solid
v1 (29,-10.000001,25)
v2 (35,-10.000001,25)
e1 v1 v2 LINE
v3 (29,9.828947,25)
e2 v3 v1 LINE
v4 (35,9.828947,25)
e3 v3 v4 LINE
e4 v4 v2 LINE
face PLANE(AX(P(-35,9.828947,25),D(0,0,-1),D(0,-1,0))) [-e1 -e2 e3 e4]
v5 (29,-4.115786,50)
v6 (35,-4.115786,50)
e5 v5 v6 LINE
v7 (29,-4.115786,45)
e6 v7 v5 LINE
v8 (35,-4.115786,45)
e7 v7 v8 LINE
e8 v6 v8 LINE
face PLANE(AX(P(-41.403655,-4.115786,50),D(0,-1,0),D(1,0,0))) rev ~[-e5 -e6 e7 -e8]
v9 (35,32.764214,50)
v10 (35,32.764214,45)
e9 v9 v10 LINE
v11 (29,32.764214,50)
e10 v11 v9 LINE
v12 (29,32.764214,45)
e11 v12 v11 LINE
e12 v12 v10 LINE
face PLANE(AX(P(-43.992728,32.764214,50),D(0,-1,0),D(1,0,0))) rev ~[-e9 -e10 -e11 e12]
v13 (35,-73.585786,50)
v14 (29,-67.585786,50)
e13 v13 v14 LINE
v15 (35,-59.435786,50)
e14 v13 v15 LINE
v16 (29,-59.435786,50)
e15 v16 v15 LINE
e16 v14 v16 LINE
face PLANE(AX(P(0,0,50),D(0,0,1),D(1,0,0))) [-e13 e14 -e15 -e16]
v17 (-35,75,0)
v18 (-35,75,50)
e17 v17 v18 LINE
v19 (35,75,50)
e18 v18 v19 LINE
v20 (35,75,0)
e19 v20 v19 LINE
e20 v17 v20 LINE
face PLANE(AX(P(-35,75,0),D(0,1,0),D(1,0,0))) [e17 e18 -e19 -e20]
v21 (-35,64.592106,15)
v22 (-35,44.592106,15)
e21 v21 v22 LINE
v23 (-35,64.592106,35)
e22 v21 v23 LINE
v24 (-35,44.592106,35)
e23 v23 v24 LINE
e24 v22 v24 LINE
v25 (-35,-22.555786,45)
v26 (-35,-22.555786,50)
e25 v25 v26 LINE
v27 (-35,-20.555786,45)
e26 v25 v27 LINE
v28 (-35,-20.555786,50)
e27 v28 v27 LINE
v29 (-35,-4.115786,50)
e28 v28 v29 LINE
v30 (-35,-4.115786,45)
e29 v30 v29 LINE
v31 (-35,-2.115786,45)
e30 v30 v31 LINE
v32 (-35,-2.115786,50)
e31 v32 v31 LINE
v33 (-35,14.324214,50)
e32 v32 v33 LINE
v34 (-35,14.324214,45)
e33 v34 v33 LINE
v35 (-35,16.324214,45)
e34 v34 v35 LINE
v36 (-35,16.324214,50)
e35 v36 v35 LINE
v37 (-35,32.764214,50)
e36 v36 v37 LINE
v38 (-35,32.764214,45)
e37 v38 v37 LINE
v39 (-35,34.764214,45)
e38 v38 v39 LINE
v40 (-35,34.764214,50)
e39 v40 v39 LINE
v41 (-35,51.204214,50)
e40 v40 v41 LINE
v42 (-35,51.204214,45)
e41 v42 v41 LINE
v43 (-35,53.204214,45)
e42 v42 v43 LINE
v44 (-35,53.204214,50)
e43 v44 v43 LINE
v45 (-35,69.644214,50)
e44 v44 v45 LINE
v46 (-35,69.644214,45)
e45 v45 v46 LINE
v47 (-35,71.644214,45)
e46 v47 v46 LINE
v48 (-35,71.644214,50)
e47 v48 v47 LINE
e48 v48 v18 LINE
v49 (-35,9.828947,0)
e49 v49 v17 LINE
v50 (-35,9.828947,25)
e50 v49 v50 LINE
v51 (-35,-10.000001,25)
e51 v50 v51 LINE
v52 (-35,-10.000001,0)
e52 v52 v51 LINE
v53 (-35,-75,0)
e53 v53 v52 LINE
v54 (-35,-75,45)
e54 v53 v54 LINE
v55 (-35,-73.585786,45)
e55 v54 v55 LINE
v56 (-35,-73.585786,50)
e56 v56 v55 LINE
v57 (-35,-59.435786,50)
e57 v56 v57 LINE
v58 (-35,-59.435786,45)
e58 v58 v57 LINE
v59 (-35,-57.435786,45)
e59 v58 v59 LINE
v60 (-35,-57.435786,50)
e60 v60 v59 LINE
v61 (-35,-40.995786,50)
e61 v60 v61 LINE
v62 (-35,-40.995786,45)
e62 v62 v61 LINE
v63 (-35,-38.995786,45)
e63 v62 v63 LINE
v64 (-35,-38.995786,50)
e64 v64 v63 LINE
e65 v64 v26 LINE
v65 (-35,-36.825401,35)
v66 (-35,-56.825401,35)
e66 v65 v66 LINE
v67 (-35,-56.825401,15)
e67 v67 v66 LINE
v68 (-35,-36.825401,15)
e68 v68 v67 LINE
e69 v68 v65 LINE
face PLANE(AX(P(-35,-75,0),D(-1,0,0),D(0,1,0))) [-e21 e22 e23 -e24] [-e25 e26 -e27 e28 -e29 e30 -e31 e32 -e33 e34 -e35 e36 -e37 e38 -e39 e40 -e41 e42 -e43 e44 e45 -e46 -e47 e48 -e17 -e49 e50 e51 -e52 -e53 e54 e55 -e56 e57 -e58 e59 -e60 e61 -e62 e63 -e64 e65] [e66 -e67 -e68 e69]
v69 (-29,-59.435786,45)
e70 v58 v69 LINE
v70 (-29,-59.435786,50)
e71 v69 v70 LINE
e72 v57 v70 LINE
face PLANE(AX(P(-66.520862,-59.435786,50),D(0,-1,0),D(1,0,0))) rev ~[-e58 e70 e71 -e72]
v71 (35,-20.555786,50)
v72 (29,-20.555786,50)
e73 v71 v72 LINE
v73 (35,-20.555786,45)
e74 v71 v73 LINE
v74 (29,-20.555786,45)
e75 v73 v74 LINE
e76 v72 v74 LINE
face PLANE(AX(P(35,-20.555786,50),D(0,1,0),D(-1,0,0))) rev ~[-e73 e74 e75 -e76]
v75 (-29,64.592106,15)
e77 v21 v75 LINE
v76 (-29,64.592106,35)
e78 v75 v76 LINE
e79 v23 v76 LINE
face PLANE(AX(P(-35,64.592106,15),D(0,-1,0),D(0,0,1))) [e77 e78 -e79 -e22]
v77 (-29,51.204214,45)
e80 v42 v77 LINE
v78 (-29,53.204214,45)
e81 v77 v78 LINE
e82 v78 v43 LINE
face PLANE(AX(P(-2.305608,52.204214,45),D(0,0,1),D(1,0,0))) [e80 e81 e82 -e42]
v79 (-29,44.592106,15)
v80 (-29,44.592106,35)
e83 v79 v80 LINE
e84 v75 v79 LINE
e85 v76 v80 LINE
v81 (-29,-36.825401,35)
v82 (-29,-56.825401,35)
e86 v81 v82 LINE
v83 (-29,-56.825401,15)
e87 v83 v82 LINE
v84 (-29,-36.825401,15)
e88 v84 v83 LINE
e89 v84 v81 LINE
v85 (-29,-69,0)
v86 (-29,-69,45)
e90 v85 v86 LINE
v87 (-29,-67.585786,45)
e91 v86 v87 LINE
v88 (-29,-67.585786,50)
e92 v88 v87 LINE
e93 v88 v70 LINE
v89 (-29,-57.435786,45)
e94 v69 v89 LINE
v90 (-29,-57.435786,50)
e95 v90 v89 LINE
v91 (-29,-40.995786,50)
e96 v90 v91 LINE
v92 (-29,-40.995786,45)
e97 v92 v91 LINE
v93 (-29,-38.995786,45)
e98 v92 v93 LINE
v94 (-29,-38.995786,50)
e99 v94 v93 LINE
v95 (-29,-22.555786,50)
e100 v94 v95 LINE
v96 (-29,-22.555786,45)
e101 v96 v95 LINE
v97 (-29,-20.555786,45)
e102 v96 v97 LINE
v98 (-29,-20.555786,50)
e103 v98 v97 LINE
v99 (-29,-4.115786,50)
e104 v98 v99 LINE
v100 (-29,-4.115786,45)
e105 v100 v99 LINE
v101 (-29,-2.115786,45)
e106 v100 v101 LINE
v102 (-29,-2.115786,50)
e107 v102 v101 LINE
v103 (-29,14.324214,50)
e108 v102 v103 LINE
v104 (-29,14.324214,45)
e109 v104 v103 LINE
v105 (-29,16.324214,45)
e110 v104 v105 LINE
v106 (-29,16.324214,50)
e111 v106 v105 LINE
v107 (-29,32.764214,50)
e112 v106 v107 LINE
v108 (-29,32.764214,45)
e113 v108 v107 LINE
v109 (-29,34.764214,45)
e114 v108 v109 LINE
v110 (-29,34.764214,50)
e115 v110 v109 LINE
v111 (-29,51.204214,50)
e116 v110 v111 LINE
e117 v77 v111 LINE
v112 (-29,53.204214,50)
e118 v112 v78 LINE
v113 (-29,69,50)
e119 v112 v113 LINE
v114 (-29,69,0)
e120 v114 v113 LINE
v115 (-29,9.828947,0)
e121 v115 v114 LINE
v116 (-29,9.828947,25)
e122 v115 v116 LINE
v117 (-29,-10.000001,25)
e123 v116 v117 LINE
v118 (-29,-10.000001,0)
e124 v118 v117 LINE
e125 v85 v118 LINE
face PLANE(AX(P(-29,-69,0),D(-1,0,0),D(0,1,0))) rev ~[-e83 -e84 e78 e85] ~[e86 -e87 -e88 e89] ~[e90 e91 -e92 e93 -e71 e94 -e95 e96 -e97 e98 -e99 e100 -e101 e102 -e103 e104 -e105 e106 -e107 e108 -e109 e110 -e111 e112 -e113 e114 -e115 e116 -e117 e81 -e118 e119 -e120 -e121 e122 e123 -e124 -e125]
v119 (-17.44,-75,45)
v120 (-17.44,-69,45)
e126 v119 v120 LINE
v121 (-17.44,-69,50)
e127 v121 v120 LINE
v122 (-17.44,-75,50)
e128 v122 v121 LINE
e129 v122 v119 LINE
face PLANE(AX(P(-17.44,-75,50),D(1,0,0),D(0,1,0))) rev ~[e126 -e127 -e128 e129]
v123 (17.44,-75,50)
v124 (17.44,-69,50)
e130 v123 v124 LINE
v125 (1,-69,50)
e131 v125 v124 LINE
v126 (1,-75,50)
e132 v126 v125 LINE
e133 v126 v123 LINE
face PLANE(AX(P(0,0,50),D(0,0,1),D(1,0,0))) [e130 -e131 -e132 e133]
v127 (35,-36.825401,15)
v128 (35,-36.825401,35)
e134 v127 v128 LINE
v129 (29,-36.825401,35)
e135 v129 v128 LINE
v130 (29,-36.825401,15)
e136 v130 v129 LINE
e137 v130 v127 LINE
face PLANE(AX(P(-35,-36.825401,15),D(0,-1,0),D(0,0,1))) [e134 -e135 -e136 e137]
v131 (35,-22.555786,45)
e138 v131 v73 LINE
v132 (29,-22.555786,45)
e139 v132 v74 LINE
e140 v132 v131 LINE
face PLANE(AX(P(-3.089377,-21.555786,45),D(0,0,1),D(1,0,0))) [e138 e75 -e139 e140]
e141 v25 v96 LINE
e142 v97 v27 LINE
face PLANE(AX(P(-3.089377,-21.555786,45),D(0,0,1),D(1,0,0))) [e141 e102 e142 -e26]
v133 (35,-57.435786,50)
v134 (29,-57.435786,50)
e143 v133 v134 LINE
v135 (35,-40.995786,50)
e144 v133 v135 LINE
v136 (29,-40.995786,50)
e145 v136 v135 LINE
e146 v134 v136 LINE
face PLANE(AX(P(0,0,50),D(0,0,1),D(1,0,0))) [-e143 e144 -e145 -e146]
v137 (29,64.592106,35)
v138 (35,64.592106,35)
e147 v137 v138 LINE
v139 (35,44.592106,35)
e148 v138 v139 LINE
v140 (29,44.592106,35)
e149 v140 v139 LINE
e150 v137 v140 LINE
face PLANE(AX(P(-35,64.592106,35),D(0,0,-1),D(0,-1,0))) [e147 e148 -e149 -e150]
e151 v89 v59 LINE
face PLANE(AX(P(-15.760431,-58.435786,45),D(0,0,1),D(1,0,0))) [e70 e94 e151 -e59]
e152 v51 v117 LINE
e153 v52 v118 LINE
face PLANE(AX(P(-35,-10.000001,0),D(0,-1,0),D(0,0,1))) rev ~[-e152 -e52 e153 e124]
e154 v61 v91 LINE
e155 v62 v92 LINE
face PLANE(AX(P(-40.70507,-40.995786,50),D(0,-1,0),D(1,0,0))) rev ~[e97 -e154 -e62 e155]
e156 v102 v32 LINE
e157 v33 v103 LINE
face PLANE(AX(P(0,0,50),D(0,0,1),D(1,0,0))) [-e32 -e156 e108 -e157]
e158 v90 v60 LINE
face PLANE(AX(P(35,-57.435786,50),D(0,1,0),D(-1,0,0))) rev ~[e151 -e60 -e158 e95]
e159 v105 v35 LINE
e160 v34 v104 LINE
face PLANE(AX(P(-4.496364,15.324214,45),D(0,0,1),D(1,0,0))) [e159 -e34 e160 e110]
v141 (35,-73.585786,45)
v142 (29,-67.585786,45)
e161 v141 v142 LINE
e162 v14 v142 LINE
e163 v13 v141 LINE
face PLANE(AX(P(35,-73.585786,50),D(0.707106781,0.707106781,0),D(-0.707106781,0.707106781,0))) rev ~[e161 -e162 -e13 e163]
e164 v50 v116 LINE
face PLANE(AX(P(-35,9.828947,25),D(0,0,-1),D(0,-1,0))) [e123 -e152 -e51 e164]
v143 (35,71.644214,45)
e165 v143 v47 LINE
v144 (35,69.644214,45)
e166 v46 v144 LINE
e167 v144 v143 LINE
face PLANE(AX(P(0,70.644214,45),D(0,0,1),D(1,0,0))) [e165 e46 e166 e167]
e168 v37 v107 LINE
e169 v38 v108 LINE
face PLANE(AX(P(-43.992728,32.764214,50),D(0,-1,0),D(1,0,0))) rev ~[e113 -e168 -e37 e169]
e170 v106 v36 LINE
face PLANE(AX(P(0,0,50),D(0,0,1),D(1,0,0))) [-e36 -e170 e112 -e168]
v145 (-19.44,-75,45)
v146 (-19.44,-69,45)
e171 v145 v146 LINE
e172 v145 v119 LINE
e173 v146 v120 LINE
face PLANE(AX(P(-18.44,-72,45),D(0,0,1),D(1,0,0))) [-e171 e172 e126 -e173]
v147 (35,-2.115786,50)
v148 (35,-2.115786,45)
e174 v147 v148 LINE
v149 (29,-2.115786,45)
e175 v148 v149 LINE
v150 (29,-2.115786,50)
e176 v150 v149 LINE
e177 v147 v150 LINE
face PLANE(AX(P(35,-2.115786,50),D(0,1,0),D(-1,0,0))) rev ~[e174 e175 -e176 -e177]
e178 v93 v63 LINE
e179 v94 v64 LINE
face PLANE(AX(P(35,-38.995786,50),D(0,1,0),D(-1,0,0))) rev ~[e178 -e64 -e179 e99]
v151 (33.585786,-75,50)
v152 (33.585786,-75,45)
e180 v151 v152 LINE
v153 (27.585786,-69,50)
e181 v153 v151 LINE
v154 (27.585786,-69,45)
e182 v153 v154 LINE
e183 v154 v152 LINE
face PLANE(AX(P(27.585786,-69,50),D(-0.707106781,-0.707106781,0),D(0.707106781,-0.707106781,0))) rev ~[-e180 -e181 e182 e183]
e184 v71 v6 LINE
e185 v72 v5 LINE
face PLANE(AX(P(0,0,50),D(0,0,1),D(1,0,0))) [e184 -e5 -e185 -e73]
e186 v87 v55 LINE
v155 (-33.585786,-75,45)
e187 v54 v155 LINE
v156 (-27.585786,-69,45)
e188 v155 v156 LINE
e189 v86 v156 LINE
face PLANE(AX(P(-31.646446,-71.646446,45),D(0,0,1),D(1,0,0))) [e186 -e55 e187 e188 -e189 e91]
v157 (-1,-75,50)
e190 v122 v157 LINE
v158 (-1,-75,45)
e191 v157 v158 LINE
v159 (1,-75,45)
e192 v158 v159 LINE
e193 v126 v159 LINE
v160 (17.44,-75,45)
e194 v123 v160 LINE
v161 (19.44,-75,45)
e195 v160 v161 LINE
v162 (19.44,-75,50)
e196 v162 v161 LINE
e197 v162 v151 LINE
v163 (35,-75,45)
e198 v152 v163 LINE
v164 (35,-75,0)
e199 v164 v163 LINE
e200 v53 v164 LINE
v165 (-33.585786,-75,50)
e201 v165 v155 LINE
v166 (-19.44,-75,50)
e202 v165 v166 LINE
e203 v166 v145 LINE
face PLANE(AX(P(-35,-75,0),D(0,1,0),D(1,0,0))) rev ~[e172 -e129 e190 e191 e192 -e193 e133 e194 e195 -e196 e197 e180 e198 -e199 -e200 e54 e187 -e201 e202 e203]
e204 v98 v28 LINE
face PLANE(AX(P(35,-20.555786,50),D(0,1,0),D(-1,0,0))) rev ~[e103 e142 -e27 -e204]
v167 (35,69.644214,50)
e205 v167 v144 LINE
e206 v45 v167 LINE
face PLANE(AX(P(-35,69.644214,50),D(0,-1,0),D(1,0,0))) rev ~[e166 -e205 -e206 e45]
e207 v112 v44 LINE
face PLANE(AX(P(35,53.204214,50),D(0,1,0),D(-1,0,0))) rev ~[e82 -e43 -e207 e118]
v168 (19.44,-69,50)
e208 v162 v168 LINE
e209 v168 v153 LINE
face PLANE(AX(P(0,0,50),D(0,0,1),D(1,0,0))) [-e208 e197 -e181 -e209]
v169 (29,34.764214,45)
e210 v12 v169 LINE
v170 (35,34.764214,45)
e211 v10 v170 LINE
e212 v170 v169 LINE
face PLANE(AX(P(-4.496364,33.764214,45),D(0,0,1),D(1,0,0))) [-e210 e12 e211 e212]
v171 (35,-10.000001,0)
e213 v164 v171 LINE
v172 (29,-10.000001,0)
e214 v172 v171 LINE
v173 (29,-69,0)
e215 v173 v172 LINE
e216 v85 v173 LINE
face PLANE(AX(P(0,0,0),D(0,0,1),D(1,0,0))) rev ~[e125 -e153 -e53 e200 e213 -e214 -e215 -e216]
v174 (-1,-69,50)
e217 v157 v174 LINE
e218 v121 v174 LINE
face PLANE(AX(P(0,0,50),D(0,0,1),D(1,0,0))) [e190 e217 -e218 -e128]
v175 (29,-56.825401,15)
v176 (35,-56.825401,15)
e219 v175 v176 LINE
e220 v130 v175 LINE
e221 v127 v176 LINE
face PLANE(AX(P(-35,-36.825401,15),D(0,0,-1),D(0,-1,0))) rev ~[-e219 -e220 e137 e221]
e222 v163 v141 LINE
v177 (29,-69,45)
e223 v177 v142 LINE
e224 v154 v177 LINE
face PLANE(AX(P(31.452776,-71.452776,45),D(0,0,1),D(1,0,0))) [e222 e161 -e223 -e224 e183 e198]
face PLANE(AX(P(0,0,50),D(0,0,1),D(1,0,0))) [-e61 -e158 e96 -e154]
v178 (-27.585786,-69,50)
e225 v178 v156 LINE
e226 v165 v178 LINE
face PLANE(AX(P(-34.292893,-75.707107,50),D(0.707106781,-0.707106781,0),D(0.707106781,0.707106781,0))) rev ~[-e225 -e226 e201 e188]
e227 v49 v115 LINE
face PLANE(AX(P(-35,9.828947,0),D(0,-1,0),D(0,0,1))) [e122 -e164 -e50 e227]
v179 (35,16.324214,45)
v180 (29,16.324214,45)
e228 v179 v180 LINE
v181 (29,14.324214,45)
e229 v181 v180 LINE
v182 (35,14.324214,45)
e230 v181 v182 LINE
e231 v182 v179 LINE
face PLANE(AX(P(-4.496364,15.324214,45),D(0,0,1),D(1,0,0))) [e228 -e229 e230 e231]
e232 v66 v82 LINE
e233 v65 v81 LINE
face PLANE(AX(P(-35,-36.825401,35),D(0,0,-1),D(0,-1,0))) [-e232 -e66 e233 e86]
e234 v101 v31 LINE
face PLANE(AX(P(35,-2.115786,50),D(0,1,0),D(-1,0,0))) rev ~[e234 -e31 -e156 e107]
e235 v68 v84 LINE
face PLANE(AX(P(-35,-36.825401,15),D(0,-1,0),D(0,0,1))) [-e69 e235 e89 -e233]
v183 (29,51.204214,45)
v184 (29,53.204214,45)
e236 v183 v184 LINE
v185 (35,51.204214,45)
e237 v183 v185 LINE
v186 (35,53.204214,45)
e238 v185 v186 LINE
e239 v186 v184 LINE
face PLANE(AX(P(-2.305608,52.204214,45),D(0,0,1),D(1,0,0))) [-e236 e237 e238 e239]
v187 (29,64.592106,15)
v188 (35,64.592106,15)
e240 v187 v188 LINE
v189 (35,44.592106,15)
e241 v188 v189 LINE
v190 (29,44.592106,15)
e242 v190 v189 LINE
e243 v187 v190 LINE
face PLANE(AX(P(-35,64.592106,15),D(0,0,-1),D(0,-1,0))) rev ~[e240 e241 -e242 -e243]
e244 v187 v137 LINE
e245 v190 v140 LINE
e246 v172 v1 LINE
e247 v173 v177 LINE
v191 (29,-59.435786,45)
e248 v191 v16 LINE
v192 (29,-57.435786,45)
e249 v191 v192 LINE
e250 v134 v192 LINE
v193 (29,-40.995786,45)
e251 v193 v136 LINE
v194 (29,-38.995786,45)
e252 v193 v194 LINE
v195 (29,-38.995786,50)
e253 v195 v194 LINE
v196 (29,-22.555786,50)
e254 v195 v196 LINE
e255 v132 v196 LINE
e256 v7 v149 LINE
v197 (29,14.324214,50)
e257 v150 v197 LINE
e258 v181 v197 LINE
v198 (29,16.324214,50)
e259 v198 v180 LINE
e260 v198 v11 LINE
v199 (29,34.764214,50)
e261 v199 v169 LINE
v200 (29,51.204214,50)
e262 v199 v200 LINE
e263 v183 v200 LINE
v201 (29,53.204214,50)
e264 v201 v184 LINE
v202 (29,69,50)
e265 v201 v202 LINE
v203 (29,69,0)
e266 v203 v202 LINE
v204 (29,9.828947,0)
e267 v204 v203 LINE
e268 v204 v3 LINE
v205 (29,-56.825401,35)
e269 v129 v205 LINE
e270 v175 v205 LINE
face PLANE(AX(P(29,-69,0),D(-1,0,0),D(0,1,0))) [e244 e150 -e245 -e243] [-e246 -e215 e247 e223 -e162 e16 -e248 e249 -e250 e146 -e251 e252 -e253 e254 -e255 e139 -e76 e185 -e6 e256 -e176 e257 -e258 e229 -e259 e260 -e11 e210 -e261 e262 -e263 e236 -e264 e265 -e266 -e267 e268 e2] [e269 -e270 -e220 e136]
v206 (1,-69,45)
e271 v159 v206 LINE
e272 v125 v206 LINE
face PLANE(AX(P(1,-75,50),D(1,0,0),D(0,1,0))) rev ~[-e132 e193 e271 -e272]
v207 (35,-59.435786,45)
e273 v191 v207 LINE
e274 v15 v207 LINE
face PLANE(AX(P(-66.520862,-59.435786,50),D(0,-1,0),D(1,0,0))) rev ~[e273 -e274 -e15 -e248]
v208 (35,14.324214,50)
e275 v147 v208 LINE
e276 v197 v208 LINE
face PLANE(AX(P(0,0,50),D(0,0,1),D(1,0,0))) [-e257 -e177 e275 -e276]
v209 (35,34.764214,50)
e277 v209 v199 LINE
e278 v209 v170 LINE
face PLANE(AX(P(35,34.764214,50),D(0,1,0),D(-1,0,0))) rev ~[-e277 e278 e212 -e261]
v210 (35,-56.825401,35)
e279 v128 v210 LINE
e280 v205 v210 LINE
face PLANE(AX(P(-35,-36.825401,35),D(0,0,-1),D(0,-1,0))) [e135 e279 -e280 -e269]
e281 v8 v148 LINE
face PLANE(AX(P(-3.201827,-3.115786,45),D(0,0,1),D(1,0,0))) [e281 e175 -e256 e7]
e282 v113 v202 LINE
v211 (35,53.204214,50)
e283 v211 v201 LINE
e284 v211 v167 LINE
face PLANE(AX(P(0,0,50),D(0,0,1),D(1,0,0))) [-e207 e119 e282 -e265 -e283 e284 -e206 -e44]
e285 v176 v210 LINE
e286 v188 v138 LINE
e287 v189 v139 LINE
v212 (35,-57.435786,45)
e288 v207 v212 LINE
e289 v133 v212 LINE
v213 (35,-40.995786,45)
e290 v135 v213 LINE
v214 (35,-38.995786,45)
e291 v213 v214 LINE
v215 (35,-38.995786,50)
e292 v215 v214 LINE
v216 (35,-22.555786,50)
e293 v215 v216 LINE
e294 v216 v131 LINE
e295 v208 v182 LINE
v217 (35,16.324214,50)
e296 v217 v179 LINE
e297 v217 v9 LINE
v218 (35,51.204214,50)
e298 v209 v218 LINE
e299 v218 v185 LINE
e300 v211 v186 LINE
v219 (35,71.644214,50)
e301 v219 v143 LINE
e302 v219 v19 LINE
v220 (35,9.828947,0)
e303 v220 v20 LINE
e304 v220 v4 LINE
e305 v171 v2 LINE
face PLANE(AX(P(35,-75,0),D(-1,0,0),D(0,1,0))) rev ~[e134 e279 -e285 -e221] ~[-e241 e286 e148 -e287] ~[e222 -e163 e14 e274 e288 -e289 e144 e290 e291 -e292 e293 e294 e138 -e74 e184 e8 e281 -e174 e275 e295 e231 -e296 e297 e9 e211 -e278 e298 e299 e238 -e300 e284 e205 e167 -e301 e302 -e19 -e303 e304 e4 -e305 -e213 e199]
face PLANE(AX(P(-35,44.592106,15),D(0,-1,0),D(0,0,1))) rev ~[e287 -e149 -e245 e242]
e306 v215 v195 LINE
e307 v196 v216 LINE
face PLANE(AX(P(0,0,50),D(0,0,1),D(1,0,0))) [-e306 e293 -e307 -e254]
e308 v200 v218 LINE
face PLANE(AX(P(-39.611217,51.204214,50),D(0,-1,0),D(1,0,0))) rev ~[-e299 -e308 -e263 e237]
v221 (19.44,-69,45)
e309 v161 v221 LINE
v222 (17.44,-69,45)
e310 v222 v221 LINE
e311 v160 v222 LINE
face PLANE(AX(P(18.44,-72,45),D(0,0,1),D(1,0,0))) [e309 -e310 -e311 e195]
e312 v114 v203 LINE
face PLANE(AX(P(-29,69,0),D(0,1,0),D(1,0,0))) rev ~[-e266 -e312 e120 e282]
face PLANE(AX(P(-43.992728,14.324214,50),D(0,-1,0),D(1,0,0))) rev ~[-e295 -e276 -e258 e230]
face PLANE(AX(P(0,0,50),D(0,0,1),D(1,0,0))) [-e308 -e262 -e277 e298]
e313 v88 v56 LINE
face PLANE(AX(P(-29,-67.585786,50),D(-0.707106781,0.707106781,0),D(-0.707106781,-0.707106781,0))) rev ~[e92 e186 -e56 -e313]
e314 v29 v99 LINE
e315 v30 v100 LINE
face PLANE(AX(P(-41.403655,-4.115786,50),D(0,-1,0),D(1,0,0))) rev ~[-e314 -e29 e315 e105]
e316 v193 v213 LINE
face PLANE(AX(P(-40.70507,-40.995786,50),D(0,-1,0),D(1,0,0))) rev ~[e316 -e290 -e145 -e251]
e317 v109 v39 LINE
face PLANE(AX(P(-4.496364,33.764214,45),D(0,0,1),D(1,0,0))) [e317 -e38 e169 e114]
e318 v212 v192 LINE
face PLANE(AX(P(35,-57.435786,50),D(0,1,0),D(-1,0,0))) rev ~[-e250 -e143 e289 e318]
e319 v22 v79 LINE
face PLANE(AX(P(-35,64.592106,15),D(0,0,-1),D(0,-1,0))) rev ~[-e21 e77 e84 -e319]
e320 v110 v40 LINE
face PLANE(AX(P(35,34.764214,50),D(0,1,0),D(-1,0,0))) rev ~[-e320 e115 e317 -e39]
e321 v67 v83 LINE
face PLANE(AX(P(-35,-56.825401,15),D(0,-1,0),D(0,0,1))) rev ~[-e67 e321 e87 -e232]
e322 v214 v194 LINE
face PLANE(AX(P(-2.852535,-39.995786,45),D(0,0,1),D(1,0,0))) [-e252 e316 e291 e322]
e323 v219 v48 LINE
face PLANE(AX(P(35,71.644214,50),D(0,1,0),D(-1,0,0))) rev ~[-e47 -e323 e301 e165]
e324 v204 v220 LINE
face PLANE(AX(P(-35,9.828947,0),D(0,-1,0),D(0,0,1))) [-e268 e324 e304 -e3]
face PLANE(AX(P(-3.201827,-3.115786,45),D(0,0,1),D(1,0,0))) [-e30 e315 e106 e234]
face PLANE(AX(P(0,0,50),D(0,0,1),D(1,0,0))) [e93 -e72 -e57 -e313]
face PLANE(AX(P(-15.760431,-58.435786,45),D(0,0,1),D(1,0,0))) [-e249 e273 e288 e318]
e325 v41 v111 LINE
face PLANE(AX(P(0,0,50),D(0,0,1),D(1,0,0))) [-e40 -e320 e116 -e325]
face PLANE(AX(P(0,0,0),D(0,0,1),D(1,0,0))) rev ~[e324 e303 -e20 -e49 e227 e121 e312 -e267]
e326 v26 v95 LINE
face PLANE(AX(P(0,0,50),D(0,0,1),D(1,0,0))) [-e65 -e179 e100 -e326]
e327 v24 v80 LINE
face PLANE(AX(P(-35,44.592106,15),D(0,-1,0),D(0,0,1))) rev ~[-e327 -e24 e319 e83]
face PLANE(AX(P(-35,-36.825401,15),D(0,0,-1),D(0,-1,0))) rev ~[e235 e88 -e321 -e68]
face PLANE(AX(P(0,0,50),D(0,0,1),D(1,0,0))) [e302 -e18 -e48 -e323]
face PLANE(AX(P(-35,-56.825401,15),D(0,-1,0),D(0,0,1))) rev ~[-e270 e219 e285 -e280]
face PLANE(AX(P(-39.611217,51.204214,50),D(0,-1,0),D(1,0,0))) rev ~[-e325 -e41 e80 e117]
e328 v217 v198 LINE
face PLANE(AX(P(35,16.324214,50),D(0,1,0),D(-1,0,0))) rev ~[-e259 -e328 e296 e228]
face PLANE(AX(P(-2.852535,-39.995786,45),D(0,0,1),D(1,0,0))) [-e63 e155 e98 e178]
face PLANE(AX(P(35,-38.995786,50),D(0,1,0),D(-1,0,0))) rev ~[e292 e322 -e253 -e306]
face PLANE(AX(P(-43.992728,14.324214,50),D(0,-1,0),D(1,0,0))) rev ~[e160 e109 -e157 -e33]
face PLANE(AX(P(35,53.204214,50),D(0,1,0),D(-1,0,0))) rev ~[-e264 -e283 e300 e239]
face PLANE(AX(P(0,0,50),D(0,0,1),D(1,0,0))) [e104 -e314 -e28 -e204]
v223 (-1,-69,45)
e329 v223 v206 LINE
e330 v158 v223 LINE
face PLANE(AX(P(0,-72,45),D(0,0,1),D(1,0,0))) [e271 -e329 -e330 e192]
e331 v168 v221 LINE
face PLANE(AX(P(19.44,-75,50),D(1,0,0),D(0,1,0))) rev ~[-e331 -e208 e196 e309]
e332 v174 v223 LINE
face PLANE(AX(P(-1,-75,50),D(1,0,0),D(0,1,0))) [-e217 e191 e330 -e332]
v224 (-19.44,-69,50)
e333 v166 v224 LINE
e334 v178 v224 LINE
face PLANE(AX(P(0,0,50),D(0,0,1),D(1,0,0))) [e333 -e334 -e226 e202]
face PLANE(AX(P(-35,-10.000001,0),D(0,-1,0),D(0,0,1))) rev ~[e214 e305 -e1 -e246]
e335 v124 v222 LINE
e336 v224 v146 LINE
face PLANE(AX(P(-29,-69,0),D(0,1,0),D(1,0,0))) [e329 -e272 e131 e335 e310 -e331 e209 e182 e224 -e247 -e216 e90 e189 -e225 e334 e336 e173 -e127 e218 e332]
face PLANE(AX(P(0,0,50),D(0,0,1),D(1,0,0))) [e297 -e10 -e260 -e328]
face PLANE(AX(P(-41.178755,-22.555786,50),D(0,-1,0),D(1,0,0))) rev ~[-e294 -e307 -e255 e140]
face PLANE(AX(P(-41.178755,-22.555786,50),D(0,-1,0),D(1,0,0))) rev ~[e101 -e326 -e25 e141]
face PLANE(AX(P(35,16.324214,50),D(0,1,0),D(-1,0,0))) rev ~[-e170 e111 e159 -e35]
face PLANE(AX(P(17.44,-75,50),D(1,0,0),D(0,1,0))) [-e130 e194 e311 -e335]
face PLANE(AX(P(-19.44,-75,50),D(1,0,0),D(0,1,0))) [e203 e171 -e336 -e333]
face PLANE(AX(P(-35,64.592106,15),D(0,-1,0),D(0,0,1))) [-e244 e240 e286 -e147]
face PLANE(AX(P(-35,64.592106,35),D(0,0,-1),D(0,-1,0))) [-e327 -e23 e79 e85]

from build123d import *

# Parameters (mm, degrees)
F0_W      = 70
F0_H      = 150
F0_W_2    = 58
F0_H_2    = 138
F1_DEPTH  = 50
F2_W      = 2
F2_H      = 6
F3_DEPTH  = 5
F4_W      = 2
F4_H      = 6
F5_DEPTH  = 5
F7_DEPTH  = 5
F8_W      = 20
F8_H      = 20
F8_W_2    = 19.828947
F8_H_2    = 25
F9_DEPTH  = 200
F10_DEPTH = 25


with BuildPart() as f1:
    # F0 (on Top) → F1 (new body)
    with BuildSketch(Plane.XY):
        Rectangle(F0_W, F0_H)
        Rectangle(F0_W_2, F0_H_2, mode=Mode.SUBTRACT)
    extrude(amount=F1_DEPTH)

    # F2 (on face) → F3 (cut)
    with BuildSketch(Plane.XY.offset(50)):
        with Locations((0, -72)):
            Rectangle(F2_W, F2_H)
        Polygon((-34.292893, -75.707107), (-28.292893, -69.707107), (-27.585786, -69), (-29, -67.585786), (-29.707107, -68.292893), (-35.707107, -74.292893), align=None)
        Polygon((27.585786, -69), (28.292893, -69.707107), (33.585786, -75), (35, -75), (35, -73.585786), (29.707107, -68.292893), (29, -67.585786), align=None)
    extrude(amount=-F3_DEPTH, mode=Mode.SUBTRACT)

    # F4 (on face) → F5 (cut)
    with BuildSketch(Plane.XY.offset(50)):
        with Locations((-18.44, -72)):
            Rectangle(F4_W, F4_H)
        with Locations((18.44, -72)):
            Rectangle(F4_W, F4_H)
    extrude(amount=-F5_DEPTH, mode=Mode.SUBTRACT)

    # F6 (on face) → F7 (cut)
    with BuildSketch(Plane.XY.offset(50)):
        Polygon((29, -59.435786), (35, -59.435786), (35, -57.435786), (29, -57.435786), (-66.520862, -57.435786), (-66.520862, -59.435786), align=None)
        Polygon((35, -40.995786), (35, -38.995786), (29, -38.995786), (-40.70507, -38.995786), (-40.70507, -40.995786), (29, -40.995786), align=None)
        Polygon((35, -22.555786), (35, -20.555786), (29, -20.555786), (-41.178755, -20.555786), (-41.178755, -22.555786), (29, -22.555786), align=None)
        Polygon((35, -4.115786), (35, -2.115786), (29, -2.115786), (-41.403655, -2.115786), (-41.403655, -4.115786), (29, -4.115786), align=None)
        Polygon((35, 14.324214), (35, 16.324214), (29, 16.324214), (-43.992728, 16.324214), (-43.992728, 14.324214), (29, 14.324214), align=None)
        Polygon((35, 32.764214), (35, 34.764214), (29, 34.764214), (-43.992728, 34.764214), (-43.992728, 32.764214), (29, 32.764214), align=None)
        Polygon((35, 51.204214), (35, 53.204214), (29, 53.204214), (-39.611217, 53.204214), (-39.611217, 51.204214), (29, 51.204214), align=None)
        Polygon((29, 69.644214), (35, 69.644214), (35, 71.644214), (29, 71.644214), (-35, 71.644214), (-35, 69.644214), align=None)
    extrude(amount=-F7_DEPTH, mode=Mode.SUBTRACT)

    # F8 (on face) → F9 (cut)
    with BuildSketch(Plane(origin=(-35, 0, 0), x_dir=(0, -1, 0), z_dir=(-1, 0, 0))):
        with Locations((-54.592106, 25)):
            Rectangle(F8_W, F8_H)
        with Locations((46.825401, 25)):
            Rectangle(F8_W, F8_H)
        with Locations((0.085527, 12.5)):
            Rectangle(F8_W_2, F8_H_2)
    extrude(amount=-F9_DEPTH, mode=Mode.SUBTRACT)

    # F8 (on face) → F10 (cut)
    with BuildSketch(Plane(origin=(-35, 0, 0), x_dir=(0, -1, 0), z_dir=(-1, 0, 0))):
        with Locations((-54.592106, 25)):
            Rectangle(F8_W, F8_H)
        with Locations((46.825401, 25)):
            Rectangle(F8_W, F8_H)
        with Locations((0.085527, 12.5)):
            Rectangle(F8_W_2, F8_H_2)
    extrude(amount=-F10_DEPTH, mode=Mode.SUBTRACT)


solid = f1.part
